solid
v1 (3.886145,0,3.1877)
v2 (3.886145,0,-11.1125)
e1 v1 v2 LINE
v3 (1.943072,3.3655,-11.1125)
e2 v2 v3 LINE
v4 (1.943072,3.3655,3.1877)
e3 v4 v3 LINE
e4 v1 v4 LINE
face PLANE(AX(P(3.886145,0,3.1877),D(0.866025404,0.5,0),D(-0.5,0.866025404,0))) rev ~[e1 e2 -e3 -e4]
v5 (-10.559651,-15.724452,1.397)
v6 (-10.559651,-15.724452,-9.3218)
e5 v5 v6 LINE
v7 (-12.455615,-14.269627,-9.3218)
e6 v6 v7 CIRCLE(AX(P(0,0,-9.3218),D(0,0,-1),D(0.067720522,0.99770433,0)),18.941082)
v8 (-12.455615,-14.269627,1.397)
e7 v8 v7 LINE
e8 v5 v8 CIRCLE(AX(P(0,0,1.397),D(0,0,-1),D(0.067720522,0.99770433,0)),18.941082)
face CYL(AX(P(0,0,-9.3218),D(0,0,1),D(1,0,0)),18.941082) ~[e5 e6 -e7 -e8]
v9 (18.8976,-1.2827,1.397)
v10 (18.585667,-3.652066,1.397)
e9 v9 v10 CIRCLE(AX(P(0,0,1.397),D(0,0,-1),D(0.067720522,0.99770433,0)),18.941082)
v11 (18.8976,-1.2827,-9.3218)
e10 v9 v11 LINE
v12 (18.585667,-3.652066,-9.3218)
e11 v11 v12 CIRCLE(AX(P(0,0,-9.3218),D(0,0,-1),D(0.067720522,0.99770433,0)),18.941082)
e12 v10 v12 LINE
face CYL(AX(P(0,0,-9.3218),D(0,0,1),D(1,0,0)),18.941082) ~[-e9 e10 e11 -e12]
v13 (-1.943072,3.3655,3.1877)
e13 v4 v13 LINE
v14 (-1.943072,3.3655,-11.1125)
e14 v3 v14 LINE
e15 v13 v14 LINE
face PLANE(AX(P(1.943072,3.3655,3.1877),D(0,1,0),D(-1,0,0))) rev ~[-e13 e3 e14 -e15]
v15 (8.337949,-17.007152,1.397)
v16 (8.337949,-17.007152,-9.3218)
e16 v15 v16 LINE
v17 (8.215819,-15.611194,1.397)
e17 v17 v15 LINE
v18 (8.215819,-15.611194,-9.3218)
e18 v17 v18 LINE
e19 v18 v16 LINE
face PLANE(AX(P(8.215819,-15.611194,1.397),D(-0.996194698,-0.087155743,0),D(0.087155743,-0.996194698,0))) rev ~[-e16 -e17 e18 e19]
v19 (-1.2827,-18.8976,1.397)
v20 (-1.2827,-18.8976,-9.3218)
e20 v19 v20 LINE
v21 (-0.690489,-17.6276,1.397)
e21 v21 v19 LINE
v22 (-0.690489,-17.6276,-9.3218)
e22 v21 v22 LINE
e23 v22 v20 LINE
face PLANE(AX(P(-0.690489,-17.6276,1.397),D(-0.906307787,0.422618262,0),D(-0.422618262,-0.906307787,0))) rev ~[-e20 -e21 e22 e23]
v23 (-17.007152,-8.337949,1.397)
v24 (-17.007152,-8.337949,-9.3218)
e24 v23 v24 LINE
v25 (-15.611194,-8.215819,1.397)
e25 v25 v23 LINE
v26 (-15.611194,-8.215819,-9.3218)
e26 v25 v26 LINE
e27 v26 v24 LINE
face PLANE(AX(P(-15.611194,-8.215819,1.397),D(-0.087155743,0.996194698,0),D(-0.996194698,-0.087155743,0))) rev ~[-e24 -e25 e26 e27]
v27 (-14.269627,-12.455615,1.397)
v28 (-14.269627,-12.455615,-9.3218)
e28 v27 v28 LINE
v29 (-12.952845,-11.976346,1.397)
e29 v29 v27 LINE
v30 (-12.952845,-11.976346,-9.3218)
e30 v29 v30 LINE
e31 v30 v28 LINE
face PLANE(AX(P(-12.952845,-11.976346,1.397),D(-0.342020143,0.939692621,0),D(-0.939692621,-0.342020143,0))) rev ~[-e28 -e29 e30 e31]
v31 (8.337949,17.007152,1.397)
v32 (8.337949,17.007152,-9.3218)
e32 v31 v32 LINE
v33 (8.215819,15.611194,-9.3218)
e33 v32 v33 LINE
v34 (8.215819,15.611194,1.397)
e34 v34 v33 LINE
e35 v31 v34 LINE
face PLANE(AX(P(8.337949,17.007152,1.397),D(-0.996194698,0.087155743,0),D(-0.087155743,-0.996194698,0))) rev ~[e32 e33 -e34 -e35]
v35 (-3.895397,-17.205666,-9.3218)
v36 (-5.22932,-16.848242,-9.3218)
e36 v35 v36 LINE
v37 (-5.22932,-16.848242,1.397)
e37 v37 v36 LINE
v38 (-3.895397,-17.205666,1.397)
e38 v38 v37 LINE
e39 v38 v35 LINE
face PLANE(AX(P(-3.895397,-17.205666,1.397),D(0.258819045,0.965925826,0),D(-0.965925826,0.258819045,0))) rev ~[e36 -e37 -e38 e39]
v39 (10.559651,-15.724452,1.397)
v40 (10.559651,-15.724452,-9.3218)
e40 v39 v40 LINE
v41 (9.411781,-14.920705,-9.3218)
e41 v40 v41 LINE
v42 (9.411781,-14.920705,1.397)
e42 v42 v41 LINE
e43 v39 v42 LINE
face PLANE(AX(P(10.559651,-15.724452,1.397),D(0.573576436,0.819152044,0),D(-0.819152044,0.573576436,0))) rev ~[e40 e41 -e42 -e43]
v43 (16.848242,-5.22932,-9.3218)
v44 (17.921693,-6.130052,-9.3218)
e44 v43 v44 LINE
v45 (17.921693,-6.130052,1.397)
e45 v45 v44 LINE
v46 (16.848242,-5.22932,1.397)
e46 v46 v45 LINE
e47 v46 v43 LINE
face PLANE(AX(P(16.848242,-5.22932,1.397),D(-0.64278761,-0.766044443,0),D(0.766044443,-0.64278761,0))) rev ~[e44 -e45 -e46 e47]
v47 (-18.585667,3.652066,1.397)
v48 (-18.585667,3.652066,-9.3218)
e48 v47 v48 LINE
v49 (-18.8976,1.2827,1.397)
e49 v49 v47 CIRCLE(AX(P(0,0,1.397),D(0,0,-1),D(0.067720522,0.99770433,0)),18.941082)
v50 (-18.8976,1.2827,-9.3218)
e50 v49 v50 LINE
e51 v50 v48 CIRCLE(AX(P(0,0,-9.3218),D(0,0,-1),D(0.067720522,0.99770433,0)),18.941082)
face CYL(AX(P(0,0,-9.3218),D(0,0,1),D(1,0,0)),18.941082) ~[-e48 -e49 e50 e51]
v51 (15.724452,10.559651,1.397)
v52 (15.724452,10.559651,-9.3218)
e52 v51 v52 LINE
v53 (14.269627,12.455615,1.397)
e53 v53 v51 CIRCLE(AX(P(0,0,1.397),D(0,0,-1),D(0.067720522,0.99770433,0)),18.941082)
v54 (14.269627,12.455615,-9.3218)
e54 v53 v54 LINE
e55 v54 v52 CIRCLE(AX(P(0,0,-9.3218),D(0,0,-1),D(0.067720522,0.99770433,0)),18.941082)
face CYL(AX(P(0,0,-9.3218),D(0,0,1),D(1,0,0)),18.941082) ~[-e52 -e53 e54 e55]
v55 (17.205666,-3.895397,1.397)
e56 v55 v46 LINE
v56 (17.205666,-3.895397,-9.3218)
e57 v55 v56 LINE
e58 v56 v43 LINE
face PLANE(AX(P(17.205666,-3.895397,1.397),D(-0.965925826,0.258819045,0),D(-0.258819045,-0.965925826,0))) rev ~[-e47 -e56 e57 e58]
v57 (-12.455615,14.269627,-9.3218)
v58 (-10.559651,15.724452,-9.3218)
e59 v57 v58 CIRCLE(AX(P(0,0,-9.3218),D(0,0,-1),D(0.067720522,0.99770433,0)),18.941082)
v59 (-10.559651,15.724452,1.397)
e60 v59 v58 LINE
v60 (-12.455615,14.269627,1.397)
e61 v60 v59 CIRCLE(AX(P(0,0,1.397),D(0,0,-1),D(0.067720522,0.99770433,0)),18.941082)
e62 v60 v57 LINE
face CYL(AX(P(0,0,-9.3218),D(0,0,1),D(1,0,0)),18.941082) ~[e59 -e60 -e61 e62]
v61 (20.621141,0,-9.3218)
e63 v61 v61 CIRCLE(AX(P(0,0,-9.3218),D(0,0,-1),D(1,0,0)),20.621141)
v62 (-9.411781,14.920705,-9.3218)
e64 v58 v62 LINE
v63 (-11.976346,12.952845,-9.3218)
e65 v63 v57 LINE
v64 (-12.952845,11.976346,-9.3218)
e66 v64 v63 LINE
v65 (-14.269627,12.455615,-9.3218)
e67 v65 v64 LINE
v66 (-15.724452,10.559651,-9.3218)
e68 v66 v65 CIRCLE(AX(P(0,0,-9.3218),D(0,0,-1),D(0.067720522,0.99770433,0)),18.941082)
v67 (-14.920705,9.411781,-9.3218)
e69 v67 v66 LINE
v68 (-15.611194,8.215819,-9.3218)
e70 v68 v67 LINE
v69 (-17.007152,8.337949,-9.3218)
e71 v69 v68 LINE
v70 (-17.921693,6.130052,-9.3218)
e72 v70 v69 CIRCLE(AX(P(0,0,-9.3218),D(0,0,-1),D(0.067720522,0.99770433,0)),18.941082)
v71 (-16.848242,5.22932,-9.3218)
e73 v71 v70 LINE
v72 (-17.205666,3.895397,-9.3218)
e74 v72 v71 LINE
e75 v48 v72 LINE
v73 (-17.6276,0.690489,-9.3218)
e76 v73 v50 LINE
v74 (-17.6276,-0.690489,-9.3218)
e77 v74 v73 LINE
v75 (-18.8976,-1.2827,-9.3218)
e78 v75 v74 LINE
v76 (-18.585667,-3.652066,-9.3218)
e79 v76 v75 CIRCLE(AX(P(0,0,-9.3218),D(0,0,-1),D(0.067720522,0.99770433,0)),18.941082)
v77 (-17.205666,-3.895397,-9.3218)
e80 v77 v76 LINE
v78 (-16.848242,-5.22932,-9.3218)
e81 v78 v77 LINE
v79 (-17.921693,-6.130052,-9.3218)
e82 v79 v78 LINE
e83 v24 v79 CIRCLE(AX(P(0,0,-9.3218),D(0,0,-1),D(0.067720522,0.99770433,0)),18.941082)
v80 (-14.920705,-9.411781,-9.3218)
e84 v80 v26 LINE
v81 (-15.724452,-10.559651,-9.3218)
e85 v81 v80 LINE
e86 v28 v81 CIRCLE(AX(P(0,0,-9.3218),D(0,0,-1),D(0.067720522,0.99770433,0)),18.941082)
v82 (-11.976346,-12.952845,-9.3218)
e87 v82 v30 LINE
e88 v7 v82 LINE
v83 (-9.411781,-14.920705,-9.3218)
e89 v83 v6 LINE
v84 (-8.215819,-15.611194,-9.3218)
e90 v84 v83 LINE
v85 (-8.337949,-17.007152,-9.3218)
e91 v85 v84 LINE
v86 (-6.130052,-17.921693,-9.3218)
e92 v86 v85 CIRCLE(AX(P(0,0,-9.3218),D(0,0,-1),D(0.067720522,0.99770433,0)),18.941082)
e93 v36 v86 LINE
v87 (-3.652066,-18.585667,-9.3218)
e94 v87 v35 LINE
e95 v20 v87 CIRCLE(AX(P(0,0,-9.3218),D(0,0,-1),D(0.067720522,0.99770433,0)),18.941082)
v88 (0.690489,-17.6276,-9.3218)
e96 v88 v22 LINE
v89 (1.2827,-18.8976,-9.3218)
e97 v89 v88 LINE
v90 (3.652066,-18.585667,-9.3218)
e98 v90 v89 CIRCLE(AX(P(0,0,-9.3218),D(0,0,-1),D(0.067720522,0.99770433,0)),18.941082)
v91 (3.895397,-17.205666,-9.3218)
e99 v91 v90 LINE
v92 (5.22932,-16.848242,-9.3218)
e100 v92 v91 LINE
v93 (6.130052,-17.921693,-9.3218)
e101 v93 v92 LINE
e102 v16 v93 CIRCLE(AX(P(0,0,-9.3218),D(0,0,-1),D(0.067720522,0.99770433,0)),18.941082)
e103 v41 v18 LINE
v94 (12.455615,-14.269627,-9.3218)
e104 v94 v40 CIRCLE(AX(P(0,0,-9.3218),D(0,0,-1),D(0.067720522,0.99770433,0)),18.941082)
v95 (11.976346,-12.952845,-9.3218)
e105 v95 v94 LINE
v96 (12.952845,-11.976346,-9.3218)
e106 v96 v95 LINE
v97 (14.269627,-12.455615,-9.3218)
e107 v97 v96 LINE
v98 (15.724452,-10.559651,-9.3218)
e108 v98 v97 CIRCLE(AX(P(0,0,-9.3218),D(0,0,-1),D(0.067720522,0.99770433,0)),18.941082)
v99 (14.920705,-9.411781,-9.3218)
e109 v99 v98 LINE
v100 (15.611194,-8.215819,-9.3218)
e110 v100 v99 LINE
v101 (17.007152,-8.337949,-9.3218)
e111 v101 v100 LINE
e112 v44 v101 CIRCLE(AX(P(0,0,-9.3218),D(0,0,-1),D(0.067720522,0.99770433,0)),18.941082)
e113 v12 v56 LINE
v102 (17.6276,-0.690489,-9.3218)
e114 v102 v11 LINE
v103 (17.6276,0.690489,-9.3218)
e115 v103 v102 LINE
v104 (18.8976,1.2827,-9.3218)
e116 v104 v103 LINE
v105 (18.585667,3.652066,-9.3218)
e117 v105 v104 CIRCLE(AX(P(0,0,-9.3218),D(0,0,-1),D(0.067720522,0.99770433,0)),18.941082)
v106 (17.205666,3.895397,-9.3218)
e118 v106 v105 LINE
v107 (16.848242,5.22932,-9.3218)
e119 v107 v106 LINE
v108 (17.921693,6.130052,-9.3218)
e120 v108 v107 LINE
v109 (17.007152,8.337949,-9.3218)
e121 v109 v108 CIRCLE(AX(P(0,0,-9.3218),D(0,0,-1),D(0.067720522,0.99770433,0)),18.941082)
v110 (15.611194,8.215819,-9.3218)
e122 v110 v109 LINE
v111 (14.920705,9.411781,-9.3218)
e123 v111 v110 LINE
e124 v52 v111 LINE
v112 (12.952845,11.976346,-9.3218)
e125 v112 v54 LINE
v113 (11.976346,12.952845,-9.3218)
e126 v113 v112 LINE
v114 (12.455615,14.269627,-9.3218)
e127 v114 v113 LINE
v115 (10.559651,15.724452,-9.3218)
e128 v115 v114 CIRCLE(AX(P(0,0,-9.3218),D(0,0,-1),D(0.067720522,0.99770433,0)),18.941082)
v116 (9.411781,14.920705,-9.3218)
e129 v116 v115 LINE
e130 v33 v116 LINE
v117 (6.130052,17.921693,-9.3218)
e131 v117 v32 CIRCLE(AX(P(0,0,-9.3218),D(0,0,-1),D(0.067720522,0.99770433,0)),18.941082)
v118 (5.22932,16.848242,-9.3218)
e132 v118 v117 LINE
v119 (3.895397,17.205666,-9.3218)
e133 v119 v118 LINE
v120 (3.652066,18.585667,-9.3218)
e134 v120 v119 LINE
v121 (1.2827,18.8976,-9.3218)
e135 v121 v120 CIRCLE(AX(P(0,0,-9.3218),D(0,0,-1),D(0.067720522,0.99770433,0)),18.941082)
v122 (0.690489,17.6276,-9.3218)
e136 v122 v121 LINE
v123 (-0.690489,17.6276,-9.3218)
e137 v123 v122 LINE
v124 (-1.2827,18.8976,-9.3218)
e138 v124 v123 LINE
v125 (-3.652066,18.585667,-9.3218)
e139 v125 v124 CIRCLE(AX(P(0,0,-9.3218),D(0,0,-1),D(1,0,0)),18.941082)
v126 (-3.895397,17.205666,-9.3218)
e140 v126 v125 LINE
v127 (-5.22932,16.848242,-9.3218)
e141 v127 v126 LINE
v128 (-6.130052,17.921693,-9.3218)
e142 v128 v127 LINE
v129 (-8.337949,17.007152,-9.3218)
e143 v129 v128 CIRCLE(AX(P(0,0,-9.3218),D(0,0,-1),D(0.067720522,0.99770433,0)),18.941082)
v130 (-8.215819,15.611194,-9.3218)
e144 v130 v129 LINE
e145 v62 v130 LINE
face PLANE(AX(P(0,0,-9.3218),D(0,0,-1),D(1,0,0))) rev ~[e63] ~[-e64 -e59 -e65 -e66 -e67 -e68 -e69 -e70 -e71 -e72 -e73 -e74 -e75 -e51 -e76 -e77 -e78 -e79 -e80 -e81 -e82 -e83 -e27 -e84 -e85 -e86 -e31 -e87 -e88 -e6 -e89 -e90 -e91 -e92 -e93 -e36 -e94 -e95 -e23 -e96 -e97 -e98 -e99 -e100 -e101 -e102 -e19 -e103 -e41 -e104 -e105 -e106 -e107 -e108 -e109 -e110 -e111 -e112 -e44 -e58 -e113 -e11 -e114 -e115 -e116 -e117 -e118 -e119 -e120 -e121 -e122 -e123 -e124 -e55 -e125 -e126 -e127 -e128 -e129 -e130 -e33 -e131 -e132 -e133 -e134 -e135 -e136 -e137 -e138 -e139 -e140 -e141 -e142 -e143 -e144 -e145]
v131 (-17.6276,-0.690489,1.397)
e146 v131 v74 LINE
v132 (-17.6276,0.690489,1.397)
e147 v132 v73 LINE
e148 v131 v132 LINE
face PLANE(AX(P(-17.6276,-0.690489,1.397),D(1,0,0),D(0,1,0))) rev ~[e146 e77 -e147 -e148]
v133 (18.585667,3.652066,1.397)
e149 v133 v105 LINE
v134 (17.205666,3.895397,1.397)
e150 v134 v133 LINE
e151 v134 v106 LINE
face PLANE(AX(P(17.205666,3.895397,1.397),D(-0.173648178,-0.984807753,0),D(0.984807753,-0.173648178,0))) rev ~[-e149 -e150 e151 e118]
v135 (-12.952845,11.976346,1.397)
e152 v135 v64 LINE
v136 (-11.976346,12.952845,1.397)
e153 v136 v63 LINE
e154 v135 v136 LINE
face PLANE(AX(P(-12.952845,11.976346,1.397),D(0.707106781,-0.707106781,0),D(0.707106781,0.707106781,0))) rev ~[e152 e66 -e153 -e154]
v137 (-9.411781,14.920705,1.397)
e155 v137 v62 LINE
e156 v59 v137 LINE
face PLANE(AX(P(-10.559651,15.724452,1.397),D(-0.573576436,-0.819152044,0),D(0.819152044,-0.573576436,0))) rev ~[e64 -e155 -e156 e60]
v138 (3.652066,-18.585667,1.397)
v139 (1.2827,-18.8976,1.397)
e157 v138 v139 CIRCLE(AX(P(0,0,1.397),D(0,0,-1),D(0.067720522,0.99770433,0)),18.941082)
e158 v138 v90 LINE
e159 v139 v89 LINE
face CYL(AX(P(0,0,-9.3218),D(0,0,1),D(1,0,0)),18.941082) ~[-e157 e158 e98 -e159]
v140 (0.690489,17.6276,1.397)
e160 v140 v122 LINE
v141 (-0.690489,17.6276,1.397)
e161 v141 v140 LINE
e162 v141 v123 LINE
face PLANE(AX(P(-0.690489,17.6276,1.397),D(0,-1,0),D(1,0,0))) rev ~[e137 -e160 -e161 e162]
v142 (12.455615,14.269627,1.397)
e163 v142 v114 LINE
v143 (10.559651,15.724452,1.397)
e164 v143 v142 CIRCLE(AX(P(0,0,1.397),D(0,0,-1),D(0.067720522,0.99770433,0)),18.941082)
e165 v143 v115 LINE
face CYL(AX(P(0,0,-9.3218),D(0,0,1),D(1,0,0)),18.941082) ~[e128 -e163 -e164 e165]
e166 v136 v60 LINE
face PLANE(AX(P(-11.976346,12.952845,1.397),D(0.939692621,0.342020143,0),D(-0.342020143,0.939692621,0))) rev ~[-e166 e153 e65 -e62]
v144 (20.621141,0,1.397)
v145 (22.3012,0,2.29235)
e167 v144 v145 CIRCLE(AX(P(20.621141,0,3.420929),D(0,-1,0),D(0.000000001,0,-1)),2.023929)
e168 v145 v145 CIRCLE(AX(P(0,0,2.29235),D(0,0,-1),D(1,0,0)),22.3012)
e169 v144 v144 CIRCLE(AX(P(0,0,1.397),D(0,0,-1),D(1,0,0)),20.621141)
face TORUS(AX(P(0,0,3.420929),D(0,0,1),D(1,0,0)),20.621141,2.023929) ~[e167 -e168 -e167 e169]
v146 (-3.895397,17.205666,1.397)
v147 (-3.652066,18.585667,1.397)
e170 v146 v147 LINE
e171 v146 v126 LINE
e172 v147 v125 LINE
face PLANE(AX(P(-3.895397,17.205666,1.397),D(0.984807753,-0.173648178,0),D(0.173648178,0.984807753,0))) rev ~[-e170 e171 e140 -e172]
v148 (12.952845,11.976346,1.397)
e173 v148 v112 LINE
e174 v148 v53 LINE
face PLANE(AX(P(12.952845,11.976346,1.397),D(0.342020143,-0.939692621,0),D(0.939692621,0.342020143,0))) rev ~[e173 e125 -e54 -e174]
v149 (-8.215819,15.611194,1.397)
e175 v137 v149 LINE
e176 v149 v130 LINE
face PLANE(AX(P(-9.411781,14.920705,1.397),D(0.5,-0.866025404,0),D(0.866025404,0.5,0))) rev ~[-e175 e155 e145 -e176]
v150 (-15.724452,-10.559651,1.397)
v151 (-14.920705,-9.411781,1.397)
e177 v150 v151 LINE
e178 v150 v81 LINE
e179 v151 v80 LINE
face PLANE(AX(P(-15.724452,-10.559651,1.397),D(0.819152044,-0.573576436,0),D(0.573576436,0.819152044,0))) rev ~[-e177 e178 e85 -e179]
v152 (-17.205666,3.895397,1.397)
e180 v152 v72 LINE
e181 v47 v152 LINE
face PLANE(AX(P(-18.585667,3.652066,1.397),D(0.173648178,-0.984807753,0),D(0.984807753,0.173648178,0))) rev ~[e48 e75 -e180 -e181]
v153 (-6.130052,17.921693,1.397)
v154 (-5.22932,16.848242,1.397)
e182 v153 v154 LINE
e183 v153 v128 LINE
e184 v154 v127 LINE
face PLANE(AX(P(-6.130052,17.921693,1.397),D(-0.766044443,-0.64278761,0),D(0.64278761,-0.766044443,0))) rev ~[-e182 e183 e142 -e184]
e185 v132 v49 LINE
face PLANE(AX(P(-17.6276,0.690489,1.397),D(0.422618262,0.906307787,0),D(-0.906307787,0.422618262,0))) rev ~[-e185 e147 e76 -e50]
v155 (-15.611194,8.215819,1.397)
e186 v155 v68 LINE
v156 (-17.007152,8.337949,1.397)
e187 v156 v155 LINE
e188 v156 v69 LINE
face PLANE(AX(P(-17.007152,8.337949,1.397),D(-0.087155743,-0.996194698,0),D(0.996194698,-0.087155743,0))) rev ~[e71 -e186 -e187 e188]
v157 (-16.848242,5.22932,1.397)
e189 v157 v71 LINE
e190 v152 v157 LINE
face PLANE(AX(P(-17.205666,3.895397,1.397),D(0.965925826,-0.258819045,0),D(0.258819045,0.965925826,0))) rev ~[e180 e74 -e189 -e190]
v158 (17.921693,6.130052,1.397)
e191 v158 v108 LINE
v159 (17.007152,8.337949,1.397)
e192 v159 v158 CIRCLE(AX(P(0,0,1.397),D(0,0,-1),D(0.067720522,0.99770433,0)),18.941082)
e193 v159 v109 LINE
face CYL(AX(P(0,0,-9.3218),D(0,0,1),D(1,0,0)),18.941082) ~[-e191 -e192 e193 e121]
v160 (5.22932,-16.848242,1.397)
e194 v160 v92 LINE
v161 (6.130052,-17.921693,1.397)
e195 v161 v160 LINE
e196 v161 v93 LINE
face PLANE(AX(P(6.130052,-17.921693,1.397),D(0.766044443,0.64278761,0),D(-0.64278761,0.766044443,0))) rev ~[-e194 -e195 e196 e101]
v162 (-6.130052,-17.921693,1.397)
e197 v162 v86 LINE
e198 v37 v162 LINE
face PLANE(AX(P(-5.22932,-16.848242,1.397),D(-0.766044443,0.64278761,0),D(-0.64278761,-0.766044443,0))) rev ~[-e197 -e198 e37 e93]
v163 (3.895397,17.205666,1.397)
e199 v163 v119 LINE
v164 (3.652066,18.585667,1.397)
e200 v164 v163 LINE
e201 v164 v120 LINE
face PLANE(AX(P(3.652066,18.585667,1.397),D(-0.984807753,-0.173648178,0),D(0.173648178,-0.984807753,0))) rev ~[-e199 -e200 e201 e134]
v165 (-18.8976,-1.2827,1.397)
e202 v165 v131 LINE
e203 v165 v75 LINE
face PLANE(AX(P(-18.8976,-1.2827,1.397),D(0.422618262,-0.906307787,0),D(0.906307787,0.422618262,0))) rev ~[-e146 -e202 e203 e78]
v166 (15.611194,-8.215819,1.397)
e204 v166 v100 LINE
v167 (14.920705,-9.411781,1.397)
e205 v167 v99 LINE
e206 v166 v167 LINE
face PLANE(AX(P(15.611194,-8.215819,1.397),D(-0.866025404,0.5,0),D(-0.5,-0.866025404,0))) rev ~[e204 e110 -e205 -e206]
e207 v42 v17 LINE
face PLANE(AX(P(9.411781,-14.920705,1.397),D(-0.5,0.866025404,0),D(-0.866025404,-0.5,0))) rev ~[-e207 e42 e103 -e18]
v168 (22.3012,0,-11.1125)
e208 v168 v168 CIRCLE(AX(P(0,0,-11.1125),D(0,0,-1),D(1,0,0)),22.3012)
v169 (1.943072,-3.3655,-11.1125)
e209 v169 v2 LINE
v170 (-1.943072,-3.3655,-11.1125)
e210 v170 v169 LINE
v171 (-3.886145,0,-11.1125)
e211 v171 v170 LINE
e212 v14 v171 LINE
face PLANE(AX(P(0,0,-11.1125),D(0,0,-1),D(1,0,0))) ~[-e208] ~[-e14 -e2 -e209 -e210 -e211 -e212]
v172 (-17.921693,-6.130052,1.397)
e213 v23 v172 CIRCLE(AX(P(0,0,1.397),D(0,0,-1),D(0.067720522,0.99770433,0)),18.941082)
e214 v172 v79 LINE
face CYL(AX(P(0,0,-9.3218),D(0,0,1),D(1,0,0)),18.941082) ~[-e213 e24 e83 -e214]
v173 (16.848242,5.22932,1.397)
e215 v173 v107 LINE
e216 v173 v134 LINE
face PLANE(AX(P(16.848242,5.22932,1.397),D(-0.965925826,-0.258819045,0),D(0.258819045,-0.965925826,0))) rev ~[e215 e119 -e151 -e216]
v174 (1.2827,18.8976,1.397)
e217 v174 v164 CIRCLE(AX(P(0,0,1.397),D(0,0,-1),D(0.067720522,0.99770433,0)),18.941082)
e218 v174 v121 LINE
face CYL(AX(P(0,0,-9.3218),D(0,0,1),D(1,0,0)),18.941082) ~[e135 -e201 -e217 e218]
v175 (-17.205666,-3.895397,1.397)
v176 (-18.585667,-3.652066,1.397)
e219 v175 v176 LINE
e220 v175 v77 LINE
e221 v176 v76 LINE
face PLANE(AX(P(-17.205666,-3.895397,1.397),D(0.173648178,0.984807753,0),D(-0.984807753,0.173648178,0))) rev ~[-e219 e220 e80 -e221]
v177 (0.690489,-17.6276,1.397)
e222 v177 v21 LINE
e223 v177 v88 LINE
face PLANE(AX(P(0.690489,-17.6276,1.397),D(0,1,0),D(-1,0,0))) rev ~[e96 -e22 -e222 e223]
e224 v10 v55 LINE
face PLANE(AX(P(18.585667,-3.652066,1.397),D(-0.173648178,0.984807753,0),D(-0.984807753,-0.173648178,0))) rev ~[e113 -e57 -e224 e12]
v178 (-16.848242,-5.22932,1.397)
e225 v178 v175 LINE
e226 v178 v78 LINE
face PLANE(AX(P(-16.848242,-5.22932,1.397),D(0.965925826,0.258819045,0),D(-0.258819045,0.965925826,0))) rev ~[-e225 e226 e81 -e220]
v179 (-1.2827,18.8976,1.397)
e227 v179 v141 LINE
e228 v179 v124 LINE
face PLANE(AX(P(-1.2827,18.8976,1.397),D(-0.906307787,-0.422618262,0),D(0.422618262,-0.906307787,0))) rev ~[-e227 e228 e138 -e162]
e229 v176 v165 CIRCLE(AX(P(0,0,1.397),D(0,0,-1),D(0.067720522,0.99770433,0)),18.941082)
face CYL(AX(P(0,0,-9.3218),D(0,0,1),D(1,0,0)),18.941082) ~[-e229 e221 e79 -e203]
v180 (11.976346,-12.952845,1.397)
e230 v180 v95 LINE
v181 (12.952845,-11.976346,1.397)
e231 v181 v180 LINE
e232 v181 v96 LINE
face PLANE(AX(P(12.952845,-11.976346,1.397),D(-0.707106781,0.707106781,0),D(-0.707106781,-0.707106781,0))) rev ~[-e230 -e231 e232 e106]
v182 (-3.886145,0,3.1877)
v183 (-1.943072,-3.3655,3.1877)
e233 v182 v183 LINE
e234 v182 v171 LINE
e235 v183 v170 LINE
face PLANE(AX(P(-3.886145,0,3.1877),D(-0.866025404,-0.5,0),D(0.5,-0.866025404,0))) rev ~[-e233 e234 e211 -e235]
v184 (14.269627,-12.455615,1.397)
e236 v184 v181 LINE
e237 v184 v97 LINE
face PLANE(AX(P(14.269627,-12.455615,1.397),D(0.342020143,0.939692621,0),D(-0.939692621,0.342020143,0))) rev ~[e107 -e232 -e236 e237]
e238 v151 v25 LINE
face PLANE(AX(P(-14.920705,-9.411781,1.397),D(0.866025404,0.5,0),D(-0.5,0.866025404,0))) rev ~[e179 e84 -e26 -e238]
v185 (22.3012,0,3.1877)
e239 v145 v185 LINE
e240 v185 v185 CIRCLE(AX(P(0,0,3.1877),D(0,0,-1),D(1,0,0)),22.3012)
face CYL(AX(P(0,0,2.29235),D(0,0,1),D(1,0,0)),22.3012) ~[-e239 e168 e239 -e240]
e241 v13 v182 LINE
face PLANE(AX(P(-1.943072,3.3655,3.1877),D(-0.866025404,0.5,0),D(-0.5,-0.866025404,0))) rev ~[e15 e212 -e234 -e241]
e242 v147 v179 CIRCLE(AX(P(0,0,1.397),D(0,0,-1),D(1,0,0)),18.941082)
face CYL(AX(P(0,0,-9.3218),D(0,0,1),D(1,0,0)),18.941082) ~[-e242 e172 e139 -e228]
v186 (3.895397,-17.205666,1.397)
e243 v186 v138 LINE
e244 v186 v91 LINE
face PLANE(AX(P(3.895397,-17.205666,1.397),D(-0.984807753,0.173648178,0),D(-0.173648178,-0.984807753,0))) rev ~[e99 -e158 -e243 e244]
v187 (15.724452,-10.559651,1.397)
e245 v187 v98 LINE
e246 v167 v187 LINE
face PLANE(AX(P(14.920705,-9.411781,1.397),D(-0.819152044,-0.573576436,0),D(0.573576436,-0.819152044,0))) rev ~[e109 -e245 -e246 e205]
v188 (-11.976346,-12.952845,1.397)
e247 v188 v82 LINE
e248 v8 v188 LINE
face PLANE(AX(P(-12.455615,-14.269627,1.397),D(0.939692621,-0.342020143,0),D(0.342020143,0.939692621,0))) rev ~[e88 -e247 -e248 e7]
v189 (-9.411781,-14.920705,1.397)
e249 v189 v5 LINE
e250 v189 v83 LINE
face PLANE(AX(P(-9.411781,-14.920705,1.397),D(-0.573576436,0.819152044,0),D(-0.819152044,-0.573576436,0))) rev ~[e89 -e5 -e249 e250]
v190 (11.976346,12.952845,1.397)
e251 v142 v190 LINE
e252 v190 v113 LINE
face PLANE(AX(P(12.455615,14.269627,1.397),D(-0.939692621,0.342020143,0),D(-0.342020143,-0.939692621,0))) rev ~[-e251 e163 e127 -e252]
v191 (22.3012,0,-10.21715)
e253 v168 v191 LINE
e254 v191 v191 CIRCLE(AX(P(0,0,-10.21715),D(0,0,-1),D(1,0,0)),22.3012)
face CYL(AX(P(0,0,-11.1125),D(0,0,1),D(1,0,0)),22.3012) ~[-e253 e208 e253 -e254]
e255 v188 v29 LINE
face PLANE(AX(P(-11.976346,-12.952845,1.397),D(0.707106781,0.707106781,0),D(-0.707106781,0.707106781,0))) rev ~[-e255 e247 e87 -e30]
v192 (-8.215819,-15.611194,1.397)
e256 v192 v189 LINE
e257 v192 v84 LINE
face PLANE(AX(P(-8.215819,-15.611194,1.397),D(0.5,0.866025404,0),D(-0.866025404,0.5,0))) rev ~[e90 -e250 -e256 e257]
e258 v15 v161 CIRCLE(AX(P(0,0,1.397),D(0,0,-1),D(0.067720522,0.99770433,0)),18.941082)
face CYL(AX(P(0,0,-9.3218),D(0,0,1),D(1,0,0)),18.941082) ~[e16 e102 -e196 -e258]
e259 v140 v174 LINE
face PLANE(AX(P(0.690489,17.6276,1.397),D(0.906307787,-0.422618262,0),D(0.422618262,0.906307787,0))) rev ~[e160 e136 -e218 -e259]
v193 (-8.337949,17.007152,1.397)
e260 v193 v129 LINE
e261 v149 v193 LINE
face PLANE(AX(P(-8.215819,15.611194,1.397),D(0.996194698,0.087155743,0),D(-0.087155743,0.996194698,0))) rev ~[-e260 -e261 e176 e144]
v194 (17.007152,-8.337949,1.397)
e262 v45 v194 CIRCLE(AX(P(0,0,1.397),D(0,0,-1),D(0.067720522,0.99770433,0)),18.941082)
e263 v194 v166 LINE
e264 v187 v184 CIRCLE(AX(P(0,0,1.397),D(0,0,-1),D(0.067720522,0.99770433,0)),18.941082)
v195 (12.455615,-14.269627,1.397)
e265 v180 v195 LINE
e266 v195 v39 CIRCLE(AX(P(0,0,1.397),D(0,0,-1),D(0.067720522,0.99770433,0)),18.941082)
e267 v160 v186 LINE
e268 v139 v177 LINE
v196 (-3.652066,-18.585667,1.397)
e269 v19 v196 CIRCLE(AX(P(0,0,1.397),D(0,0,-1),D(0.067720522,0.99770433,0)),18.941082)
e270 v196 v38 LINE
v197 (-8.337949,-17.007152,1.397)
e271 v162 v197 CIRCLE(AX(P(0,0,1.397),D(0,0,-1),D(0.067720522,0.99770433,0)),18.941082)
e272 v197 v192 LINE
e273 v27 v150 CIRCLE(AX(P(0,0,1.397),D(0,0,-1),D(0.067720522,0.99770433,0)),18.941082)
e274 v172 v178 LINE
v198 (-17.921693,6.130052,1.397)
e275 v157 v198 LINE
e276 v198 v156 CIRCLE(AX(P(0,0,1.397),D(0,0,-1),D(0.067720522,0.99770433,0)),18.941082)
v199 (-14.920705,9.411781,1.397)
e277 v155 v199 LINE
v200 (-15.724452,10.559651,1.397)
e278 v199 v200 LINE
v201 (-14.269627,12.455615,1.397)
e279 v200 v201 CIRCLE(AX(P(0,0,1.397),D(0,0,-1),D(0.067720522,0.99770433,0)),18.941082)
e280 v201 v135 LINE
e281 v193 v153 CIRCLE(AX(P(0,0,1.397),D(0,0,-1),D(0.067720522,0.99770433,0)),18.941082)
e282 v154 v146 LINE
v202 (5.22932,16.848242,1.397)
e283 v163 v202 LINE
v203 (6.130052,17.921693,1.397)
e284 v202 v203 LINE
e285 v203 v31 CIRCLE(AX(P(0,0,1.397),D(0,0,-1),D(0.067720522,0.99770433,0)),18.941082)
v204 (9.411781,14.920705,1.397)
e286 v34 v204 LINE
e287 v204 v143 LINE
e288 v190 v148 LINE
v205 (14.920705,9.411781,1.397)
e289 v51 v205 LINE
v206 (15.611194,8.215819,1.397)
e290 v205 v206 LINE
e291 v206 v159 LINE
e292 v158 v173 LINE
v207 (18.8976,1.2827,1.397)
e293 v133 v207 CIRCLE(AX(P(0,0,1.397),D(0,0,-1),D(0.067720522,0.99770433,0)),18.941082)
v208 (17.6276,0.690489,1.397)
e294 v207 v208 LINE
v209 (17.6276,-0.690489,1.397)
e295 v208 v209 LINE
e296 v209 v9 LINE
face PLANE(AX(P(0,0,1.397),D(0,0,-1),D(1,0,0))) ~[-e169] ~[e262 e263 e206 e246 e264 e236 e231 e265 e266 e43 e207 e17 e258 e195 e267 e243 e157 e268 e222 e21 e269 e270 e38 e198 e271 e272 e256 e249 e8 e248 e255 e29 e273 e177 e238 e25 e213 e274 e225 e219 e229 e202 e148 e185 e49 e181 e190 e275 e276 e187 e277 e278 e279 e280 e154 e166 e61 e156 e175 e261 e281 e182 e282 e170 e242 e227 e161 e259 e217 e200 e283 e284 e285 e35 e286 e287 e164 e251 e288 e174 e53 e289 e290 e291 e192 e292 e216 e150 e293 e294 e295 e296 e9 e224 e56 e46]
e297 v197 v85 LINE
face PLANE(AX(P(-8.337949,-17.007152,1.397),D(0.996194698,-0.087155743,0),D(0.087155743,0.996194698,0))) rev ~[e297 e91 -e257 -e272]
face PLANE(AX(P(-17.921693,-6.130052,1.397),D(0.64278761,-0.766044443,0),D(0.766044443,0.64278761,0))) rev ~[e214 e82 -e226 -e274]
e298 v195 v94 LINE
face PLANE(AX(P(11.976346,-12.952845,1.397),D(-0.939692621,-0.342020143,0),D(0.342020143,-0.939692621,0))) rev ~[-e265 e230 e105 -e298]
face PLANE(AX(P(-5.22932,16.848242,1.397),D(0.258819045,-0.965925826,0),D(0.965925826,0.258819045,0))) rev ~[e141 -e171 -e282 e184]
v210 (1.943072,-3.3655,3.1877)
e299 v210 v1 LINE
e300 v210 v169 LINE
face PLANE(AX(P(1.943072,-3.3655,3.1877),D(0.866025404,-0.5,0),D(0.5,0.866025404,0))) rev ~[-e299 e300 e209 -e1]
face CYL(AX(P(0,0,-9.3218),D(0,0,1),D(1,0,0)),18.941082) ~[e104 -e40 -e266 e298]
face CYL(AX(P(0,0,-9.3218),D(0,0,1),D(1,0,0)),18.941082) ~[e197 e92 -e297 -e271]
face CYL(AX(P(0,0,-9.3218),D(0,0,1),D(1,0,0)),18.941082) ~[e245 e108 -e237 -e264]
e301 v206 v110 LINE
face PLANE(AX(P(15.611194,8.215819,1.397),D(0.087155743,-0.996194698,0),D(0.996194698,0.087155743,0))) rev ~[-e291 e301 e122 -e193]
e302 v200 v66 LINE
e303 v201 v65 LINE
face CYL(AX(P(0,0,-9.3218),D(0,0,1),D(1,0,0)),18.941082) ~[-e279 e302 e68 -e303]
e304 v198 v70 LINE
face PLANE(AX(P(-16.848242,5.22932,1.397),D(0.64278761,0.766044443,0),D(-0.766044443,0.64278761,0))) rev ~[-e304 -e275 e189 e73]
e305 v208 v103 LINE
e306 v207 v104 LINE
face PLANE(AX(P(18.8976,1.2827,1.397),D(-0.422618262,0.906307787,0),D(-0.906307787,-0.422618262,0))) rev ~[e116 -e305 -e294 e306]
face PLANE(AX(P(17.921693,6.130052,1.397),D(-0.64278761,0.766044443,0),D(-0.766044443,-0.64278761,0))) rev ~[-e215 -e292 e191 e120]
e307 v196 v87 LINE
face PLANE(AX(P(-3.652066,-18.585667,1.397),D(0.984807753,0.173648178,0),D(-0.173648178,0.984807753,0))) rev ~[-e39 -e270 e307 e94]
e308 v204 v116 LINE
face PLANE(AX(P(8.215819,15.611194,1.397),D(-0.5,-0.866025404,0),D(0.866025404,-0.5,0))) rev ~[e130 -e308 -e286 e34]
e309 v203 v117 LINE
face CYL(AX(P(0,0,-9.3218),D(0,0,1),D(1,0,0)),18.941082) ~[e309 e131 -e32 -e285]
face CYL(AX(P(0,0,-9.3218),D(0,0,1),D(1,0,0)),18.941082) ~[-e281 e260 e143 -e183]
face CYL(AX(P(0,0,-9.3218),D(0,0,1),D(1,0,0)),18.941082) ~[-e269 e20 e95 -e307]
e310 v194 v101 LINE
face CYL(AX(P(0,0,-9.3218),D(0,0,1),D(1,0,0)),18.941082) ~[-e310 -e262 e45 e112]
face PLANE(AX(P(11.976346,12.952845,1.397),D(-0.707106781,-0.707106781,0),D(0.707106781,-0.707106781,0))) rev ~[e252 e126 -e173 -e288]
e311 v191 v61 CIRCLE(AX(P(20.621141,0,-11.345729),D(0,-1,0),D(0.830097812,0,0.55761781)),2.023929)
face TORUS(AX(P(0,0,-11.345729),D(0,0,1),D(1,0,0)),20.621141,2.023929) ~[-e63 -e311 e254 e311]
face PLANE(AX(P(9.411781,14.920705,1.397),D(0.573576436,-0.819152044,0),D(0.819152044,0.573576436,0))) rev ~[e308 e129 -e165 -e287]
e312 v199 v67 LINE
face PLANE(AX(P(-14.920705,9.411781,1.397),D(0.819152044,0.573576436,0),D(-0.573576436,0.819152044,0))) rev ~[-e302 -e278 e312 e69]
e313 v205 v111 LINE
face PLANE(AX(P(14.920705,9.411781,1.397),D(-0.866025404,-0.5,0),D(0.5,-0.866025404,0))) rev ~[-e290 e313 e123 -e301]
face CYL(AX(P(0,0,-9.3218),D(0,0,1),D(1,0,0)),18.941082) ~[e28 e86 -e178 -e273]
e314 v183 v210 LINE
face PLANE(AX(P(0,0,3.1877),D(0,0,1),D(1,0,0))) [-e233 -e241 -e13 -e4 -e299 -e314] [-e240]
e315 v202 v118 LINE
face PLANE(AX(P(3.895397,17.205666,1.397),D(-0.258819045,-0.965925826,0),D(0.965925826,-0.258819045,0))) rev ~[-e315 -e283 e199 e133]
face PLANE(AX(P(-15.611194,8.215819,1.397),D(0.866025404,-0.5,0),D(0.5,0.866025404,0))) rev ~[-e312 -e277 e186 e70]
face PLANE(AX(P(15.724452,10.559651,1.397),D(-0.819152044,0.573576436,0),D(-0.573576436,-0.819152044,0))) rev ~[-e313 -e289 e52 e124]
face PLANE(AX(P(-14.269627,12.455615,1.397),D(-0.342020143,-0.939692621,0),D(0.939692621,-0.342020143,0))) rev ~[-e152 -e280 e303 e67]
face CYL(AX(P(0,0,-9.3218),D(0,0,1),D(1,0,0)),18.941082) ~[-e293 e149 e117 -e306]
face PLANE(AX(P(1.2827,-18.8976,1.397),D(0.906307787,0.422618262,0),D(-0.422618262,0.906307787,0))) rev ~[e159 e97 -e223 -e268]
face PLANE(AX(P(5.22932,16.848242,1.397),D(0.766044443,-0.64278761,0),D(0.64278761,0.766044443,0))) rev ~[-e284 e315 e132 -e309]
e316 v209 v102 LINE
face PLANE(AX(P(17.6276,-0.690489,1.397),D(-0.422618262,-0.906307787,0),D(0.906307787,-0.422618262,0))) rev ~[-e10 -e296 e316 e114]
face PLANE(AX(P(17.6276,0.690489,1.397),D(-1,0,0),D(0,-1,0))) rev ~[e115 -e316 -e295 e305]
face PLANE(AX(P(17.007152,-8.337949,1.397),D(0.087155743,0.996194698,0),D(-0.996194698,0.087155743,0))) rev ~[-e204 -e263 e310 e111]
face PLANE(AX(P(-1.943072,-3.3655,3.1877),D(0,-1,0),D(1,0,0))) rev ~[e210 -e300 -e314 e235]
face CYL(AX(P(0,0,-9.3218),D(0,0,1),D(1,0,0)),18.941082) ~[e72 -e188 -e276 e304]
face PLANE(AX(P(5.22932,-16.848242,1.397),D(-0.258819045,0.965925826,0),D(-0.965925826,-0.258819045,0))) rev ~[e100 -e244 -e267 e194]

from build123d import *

# Parameters (mm, degrees)
CUT_EXTRUDE1_START = 1.397
CUT_EXTRUDE1_DEPTH = 10.7188
CIRPATTERN1_COUNT  = 24
SKETCH4_R          = 1.5875
CUT_EXTRUDE2_DEPTH = 34.439119294
CUT_EXTRUDE3_DEPTH = 1.190625
CIRPATTERN2_COUNT  = 2
CIRPATTERN2_ANGLE  = 90
SKETCH7_R          = 13.5001
CUT_EXTRUDE4_DEPTH = 7.9248
CUT_EXTRUDE5_DEPTH = 35.629218341


with BuildPart() as part:
    # Sketch2 → Revolve1 (revolve)
    with BuildSketch(Plane(origin=(0, 0, 0), x_dir=(0, 0, -1), z_dir=(1, 0, 0)), mode=Mode.PRIVATE) as revolve1_sk:
        with BuildLine():
            Line((-11.1125, 3.175), (11.1125, 3.175))
            Line((11.1125, 3.175), (11.1125, 22.3012))
            Line((11.1125, 22.3012), (10.21715, 22.3012))
            ThreePointArc((10.21715, 22.3012), (9.559608575, 21.573014266), (9.3218, 20.621141234))
            Line((9.3218, 20.621141234), (9.3218, 18.941082468))
            Line((9.3218, 18.941082468), (-1.397, 18.941082468))
            Line((-1.397, 18.941082468), (-1.397, 20.621141234))
            ThreePointArc((-1.397, 20.621141234), (-1.634808575, 21.573014266), (-2.29235, 22.3012))
            Line((-2.29235, 22.3012), (-3.1877, 22.3012))
            Line((-3.1877, 22.3012), (-3.1877, 13.5001))
            Line((-3.1877, 13.5001), (-11.1125, 13.5001))
            Line((-11.1125, 13.5001), (-11.1125, 3.175))
        make_face()
    revolve(revolve1_sk.sketch.rotate(Axis((0, 0, 11.1125), (0, 0, -1)), 90), axis=Axis((0, 0, 11.1125), (0, 0, -1)))

    # Sketch3 → Cut-Extrude1 (cut)
    with BuildSketch(Plane.XY.offset(CUT_EXTRUDE1_START)):
        with BuildLine():
            Line((-0.690489274, 17.6276), (0.690489274, 17.6276))
            Line((0.690489274, 17.6276), (1.2827, 18.8976))
            ThreePointArc((1.2827, 18.8976), (0, 18.941082468), (-1.2827, 18.8976))
            Line((-1.2827, 18.8976), (-0.690489274, 17.6276))
        make_face()
    cut_extrude1 = extrude(amount=-CUT_EXTRUDE1_DEPTH, mode=Mode.SUBTRACT)

    # CirPattern1: Cut-Extrude1 ×24 about axis
    cirpattern1_axis = Axis((0, 0, 0), (0, 0, 1))
    for i in range(1, CIRPATTERN1_COUNT):
        add(cut_extrude1.rotate(cirpattern1_axis, i * 360 / CIRPATTERN1_COUNT), mode=Mode.SUBTRACT)

    # Sketch4 → Cut-Extrude2 (cut, through all)
    with BuildSketch(Plane(origin=(0, 0, 0), x_dir=(1, 0, 0), z_dir=(0, 1, 0))):
        with Locations(Location((0, -7.1501, 0), (0, 0, 90))):
            Circle(SKETCH4_R)
    cut_extrude2 = extrude(amount=CUT_EXTRUDE2_DEPTH, mode=Mode.SUBTRACT)

    # Sketch5 → Revolve2 (revolve)
    with BuildSketch(Plane.XY.offset(7.1501), mode=Mode.PRIVATE) as revolve2_sk:
        Polygon((1.0795, 13.406436654), (1.5875, 12.898436654), (1.5875, 3.81), (0.9525, 3.175), (0, 3.175), (0, 13.406436654), align=None)
    revolve2 = revolve(revolve2_sk.sketch.rotate(Axis((0, 0, 7.1501), (0, 1, 0)), 90), axis=Axis((0, 0, 7.1501), (0, 1, 0)))

    # Sketch6 → Cut-Extrude3 (cut)
    with BuildSketch(Plane(origin=(0, 13.406436654, 0), x_dir=(1, 0, 0), z_dir=(0, 1, 0))):
        Polygon((0, -6.233556448), (-0.79375, -6.691828224), (-0.79375, -7.608371776), (0, -8.066643552), (0.79375, -7.608371776), (0.79375, -6.691828224), align=None)
    cut_extrude3 = extrude(amount=-CUT_EXTRUDE3_DEPTH, mode=Mode.SUBTRACT)

    # CirPattern2: Cut-Extrude2, Revolve2, Cut-Extrude3 ×2 about axis
    cirpattern2_axis = Axis((0, 0, 0), (0, 0, -1))
    add([cut_extrude2.rotate(cirpattern2_axis, i * CIRPATTERN2_ANGLE / (CIRPATTERN2_COUNT - 1)) for i in range(1, CIRPATTERN2_COUNT)], mode=Mode.SUBTRACT)
    add([revolve2.rotate(cirpattern2_axis, i * CIRPATTERN2_ANGLE / (CIRPATTERN2_COUNT - 1)) for i in range(1, CIRPATTERN2_COUNT)])
    add([cut_extrude3.rotate(cirpattern2_axis, i * CIRPATTERN2_ANGLE / (CIRPATTERN2_COUNT - 1)) for i in range(1, CIRPATTERN2_COUNT)], mode=Mode.SUBTRACT)

    # Sketch7 → Cut-Extrude4 (cut)
    with BuildSketch(Plane.XY.offset(11.1125)):
        Circle(SKETCH7_R)
    extrude(amount=-CUT_EXTRUDE4_DEPTH, mode=Mode.SUBTRACT)

    # Sketch8 → Cut-Extrude5 (cut, through all)
    with BuildSketch(Plane.XY.offset(3.1877)):
        Polygon((3.886144662, 0), (1.943072331, 3.3655), (-1.943072331, 3.3655), (-3.886144662, 0), (-1.943072331, -3.3655), (1.943072331, -3.3655), align=None)
    extrude(amount=-CUT_EXTRUDE5_DEPTH, mode=Mode.SUBTRACT)


solid = part.part
